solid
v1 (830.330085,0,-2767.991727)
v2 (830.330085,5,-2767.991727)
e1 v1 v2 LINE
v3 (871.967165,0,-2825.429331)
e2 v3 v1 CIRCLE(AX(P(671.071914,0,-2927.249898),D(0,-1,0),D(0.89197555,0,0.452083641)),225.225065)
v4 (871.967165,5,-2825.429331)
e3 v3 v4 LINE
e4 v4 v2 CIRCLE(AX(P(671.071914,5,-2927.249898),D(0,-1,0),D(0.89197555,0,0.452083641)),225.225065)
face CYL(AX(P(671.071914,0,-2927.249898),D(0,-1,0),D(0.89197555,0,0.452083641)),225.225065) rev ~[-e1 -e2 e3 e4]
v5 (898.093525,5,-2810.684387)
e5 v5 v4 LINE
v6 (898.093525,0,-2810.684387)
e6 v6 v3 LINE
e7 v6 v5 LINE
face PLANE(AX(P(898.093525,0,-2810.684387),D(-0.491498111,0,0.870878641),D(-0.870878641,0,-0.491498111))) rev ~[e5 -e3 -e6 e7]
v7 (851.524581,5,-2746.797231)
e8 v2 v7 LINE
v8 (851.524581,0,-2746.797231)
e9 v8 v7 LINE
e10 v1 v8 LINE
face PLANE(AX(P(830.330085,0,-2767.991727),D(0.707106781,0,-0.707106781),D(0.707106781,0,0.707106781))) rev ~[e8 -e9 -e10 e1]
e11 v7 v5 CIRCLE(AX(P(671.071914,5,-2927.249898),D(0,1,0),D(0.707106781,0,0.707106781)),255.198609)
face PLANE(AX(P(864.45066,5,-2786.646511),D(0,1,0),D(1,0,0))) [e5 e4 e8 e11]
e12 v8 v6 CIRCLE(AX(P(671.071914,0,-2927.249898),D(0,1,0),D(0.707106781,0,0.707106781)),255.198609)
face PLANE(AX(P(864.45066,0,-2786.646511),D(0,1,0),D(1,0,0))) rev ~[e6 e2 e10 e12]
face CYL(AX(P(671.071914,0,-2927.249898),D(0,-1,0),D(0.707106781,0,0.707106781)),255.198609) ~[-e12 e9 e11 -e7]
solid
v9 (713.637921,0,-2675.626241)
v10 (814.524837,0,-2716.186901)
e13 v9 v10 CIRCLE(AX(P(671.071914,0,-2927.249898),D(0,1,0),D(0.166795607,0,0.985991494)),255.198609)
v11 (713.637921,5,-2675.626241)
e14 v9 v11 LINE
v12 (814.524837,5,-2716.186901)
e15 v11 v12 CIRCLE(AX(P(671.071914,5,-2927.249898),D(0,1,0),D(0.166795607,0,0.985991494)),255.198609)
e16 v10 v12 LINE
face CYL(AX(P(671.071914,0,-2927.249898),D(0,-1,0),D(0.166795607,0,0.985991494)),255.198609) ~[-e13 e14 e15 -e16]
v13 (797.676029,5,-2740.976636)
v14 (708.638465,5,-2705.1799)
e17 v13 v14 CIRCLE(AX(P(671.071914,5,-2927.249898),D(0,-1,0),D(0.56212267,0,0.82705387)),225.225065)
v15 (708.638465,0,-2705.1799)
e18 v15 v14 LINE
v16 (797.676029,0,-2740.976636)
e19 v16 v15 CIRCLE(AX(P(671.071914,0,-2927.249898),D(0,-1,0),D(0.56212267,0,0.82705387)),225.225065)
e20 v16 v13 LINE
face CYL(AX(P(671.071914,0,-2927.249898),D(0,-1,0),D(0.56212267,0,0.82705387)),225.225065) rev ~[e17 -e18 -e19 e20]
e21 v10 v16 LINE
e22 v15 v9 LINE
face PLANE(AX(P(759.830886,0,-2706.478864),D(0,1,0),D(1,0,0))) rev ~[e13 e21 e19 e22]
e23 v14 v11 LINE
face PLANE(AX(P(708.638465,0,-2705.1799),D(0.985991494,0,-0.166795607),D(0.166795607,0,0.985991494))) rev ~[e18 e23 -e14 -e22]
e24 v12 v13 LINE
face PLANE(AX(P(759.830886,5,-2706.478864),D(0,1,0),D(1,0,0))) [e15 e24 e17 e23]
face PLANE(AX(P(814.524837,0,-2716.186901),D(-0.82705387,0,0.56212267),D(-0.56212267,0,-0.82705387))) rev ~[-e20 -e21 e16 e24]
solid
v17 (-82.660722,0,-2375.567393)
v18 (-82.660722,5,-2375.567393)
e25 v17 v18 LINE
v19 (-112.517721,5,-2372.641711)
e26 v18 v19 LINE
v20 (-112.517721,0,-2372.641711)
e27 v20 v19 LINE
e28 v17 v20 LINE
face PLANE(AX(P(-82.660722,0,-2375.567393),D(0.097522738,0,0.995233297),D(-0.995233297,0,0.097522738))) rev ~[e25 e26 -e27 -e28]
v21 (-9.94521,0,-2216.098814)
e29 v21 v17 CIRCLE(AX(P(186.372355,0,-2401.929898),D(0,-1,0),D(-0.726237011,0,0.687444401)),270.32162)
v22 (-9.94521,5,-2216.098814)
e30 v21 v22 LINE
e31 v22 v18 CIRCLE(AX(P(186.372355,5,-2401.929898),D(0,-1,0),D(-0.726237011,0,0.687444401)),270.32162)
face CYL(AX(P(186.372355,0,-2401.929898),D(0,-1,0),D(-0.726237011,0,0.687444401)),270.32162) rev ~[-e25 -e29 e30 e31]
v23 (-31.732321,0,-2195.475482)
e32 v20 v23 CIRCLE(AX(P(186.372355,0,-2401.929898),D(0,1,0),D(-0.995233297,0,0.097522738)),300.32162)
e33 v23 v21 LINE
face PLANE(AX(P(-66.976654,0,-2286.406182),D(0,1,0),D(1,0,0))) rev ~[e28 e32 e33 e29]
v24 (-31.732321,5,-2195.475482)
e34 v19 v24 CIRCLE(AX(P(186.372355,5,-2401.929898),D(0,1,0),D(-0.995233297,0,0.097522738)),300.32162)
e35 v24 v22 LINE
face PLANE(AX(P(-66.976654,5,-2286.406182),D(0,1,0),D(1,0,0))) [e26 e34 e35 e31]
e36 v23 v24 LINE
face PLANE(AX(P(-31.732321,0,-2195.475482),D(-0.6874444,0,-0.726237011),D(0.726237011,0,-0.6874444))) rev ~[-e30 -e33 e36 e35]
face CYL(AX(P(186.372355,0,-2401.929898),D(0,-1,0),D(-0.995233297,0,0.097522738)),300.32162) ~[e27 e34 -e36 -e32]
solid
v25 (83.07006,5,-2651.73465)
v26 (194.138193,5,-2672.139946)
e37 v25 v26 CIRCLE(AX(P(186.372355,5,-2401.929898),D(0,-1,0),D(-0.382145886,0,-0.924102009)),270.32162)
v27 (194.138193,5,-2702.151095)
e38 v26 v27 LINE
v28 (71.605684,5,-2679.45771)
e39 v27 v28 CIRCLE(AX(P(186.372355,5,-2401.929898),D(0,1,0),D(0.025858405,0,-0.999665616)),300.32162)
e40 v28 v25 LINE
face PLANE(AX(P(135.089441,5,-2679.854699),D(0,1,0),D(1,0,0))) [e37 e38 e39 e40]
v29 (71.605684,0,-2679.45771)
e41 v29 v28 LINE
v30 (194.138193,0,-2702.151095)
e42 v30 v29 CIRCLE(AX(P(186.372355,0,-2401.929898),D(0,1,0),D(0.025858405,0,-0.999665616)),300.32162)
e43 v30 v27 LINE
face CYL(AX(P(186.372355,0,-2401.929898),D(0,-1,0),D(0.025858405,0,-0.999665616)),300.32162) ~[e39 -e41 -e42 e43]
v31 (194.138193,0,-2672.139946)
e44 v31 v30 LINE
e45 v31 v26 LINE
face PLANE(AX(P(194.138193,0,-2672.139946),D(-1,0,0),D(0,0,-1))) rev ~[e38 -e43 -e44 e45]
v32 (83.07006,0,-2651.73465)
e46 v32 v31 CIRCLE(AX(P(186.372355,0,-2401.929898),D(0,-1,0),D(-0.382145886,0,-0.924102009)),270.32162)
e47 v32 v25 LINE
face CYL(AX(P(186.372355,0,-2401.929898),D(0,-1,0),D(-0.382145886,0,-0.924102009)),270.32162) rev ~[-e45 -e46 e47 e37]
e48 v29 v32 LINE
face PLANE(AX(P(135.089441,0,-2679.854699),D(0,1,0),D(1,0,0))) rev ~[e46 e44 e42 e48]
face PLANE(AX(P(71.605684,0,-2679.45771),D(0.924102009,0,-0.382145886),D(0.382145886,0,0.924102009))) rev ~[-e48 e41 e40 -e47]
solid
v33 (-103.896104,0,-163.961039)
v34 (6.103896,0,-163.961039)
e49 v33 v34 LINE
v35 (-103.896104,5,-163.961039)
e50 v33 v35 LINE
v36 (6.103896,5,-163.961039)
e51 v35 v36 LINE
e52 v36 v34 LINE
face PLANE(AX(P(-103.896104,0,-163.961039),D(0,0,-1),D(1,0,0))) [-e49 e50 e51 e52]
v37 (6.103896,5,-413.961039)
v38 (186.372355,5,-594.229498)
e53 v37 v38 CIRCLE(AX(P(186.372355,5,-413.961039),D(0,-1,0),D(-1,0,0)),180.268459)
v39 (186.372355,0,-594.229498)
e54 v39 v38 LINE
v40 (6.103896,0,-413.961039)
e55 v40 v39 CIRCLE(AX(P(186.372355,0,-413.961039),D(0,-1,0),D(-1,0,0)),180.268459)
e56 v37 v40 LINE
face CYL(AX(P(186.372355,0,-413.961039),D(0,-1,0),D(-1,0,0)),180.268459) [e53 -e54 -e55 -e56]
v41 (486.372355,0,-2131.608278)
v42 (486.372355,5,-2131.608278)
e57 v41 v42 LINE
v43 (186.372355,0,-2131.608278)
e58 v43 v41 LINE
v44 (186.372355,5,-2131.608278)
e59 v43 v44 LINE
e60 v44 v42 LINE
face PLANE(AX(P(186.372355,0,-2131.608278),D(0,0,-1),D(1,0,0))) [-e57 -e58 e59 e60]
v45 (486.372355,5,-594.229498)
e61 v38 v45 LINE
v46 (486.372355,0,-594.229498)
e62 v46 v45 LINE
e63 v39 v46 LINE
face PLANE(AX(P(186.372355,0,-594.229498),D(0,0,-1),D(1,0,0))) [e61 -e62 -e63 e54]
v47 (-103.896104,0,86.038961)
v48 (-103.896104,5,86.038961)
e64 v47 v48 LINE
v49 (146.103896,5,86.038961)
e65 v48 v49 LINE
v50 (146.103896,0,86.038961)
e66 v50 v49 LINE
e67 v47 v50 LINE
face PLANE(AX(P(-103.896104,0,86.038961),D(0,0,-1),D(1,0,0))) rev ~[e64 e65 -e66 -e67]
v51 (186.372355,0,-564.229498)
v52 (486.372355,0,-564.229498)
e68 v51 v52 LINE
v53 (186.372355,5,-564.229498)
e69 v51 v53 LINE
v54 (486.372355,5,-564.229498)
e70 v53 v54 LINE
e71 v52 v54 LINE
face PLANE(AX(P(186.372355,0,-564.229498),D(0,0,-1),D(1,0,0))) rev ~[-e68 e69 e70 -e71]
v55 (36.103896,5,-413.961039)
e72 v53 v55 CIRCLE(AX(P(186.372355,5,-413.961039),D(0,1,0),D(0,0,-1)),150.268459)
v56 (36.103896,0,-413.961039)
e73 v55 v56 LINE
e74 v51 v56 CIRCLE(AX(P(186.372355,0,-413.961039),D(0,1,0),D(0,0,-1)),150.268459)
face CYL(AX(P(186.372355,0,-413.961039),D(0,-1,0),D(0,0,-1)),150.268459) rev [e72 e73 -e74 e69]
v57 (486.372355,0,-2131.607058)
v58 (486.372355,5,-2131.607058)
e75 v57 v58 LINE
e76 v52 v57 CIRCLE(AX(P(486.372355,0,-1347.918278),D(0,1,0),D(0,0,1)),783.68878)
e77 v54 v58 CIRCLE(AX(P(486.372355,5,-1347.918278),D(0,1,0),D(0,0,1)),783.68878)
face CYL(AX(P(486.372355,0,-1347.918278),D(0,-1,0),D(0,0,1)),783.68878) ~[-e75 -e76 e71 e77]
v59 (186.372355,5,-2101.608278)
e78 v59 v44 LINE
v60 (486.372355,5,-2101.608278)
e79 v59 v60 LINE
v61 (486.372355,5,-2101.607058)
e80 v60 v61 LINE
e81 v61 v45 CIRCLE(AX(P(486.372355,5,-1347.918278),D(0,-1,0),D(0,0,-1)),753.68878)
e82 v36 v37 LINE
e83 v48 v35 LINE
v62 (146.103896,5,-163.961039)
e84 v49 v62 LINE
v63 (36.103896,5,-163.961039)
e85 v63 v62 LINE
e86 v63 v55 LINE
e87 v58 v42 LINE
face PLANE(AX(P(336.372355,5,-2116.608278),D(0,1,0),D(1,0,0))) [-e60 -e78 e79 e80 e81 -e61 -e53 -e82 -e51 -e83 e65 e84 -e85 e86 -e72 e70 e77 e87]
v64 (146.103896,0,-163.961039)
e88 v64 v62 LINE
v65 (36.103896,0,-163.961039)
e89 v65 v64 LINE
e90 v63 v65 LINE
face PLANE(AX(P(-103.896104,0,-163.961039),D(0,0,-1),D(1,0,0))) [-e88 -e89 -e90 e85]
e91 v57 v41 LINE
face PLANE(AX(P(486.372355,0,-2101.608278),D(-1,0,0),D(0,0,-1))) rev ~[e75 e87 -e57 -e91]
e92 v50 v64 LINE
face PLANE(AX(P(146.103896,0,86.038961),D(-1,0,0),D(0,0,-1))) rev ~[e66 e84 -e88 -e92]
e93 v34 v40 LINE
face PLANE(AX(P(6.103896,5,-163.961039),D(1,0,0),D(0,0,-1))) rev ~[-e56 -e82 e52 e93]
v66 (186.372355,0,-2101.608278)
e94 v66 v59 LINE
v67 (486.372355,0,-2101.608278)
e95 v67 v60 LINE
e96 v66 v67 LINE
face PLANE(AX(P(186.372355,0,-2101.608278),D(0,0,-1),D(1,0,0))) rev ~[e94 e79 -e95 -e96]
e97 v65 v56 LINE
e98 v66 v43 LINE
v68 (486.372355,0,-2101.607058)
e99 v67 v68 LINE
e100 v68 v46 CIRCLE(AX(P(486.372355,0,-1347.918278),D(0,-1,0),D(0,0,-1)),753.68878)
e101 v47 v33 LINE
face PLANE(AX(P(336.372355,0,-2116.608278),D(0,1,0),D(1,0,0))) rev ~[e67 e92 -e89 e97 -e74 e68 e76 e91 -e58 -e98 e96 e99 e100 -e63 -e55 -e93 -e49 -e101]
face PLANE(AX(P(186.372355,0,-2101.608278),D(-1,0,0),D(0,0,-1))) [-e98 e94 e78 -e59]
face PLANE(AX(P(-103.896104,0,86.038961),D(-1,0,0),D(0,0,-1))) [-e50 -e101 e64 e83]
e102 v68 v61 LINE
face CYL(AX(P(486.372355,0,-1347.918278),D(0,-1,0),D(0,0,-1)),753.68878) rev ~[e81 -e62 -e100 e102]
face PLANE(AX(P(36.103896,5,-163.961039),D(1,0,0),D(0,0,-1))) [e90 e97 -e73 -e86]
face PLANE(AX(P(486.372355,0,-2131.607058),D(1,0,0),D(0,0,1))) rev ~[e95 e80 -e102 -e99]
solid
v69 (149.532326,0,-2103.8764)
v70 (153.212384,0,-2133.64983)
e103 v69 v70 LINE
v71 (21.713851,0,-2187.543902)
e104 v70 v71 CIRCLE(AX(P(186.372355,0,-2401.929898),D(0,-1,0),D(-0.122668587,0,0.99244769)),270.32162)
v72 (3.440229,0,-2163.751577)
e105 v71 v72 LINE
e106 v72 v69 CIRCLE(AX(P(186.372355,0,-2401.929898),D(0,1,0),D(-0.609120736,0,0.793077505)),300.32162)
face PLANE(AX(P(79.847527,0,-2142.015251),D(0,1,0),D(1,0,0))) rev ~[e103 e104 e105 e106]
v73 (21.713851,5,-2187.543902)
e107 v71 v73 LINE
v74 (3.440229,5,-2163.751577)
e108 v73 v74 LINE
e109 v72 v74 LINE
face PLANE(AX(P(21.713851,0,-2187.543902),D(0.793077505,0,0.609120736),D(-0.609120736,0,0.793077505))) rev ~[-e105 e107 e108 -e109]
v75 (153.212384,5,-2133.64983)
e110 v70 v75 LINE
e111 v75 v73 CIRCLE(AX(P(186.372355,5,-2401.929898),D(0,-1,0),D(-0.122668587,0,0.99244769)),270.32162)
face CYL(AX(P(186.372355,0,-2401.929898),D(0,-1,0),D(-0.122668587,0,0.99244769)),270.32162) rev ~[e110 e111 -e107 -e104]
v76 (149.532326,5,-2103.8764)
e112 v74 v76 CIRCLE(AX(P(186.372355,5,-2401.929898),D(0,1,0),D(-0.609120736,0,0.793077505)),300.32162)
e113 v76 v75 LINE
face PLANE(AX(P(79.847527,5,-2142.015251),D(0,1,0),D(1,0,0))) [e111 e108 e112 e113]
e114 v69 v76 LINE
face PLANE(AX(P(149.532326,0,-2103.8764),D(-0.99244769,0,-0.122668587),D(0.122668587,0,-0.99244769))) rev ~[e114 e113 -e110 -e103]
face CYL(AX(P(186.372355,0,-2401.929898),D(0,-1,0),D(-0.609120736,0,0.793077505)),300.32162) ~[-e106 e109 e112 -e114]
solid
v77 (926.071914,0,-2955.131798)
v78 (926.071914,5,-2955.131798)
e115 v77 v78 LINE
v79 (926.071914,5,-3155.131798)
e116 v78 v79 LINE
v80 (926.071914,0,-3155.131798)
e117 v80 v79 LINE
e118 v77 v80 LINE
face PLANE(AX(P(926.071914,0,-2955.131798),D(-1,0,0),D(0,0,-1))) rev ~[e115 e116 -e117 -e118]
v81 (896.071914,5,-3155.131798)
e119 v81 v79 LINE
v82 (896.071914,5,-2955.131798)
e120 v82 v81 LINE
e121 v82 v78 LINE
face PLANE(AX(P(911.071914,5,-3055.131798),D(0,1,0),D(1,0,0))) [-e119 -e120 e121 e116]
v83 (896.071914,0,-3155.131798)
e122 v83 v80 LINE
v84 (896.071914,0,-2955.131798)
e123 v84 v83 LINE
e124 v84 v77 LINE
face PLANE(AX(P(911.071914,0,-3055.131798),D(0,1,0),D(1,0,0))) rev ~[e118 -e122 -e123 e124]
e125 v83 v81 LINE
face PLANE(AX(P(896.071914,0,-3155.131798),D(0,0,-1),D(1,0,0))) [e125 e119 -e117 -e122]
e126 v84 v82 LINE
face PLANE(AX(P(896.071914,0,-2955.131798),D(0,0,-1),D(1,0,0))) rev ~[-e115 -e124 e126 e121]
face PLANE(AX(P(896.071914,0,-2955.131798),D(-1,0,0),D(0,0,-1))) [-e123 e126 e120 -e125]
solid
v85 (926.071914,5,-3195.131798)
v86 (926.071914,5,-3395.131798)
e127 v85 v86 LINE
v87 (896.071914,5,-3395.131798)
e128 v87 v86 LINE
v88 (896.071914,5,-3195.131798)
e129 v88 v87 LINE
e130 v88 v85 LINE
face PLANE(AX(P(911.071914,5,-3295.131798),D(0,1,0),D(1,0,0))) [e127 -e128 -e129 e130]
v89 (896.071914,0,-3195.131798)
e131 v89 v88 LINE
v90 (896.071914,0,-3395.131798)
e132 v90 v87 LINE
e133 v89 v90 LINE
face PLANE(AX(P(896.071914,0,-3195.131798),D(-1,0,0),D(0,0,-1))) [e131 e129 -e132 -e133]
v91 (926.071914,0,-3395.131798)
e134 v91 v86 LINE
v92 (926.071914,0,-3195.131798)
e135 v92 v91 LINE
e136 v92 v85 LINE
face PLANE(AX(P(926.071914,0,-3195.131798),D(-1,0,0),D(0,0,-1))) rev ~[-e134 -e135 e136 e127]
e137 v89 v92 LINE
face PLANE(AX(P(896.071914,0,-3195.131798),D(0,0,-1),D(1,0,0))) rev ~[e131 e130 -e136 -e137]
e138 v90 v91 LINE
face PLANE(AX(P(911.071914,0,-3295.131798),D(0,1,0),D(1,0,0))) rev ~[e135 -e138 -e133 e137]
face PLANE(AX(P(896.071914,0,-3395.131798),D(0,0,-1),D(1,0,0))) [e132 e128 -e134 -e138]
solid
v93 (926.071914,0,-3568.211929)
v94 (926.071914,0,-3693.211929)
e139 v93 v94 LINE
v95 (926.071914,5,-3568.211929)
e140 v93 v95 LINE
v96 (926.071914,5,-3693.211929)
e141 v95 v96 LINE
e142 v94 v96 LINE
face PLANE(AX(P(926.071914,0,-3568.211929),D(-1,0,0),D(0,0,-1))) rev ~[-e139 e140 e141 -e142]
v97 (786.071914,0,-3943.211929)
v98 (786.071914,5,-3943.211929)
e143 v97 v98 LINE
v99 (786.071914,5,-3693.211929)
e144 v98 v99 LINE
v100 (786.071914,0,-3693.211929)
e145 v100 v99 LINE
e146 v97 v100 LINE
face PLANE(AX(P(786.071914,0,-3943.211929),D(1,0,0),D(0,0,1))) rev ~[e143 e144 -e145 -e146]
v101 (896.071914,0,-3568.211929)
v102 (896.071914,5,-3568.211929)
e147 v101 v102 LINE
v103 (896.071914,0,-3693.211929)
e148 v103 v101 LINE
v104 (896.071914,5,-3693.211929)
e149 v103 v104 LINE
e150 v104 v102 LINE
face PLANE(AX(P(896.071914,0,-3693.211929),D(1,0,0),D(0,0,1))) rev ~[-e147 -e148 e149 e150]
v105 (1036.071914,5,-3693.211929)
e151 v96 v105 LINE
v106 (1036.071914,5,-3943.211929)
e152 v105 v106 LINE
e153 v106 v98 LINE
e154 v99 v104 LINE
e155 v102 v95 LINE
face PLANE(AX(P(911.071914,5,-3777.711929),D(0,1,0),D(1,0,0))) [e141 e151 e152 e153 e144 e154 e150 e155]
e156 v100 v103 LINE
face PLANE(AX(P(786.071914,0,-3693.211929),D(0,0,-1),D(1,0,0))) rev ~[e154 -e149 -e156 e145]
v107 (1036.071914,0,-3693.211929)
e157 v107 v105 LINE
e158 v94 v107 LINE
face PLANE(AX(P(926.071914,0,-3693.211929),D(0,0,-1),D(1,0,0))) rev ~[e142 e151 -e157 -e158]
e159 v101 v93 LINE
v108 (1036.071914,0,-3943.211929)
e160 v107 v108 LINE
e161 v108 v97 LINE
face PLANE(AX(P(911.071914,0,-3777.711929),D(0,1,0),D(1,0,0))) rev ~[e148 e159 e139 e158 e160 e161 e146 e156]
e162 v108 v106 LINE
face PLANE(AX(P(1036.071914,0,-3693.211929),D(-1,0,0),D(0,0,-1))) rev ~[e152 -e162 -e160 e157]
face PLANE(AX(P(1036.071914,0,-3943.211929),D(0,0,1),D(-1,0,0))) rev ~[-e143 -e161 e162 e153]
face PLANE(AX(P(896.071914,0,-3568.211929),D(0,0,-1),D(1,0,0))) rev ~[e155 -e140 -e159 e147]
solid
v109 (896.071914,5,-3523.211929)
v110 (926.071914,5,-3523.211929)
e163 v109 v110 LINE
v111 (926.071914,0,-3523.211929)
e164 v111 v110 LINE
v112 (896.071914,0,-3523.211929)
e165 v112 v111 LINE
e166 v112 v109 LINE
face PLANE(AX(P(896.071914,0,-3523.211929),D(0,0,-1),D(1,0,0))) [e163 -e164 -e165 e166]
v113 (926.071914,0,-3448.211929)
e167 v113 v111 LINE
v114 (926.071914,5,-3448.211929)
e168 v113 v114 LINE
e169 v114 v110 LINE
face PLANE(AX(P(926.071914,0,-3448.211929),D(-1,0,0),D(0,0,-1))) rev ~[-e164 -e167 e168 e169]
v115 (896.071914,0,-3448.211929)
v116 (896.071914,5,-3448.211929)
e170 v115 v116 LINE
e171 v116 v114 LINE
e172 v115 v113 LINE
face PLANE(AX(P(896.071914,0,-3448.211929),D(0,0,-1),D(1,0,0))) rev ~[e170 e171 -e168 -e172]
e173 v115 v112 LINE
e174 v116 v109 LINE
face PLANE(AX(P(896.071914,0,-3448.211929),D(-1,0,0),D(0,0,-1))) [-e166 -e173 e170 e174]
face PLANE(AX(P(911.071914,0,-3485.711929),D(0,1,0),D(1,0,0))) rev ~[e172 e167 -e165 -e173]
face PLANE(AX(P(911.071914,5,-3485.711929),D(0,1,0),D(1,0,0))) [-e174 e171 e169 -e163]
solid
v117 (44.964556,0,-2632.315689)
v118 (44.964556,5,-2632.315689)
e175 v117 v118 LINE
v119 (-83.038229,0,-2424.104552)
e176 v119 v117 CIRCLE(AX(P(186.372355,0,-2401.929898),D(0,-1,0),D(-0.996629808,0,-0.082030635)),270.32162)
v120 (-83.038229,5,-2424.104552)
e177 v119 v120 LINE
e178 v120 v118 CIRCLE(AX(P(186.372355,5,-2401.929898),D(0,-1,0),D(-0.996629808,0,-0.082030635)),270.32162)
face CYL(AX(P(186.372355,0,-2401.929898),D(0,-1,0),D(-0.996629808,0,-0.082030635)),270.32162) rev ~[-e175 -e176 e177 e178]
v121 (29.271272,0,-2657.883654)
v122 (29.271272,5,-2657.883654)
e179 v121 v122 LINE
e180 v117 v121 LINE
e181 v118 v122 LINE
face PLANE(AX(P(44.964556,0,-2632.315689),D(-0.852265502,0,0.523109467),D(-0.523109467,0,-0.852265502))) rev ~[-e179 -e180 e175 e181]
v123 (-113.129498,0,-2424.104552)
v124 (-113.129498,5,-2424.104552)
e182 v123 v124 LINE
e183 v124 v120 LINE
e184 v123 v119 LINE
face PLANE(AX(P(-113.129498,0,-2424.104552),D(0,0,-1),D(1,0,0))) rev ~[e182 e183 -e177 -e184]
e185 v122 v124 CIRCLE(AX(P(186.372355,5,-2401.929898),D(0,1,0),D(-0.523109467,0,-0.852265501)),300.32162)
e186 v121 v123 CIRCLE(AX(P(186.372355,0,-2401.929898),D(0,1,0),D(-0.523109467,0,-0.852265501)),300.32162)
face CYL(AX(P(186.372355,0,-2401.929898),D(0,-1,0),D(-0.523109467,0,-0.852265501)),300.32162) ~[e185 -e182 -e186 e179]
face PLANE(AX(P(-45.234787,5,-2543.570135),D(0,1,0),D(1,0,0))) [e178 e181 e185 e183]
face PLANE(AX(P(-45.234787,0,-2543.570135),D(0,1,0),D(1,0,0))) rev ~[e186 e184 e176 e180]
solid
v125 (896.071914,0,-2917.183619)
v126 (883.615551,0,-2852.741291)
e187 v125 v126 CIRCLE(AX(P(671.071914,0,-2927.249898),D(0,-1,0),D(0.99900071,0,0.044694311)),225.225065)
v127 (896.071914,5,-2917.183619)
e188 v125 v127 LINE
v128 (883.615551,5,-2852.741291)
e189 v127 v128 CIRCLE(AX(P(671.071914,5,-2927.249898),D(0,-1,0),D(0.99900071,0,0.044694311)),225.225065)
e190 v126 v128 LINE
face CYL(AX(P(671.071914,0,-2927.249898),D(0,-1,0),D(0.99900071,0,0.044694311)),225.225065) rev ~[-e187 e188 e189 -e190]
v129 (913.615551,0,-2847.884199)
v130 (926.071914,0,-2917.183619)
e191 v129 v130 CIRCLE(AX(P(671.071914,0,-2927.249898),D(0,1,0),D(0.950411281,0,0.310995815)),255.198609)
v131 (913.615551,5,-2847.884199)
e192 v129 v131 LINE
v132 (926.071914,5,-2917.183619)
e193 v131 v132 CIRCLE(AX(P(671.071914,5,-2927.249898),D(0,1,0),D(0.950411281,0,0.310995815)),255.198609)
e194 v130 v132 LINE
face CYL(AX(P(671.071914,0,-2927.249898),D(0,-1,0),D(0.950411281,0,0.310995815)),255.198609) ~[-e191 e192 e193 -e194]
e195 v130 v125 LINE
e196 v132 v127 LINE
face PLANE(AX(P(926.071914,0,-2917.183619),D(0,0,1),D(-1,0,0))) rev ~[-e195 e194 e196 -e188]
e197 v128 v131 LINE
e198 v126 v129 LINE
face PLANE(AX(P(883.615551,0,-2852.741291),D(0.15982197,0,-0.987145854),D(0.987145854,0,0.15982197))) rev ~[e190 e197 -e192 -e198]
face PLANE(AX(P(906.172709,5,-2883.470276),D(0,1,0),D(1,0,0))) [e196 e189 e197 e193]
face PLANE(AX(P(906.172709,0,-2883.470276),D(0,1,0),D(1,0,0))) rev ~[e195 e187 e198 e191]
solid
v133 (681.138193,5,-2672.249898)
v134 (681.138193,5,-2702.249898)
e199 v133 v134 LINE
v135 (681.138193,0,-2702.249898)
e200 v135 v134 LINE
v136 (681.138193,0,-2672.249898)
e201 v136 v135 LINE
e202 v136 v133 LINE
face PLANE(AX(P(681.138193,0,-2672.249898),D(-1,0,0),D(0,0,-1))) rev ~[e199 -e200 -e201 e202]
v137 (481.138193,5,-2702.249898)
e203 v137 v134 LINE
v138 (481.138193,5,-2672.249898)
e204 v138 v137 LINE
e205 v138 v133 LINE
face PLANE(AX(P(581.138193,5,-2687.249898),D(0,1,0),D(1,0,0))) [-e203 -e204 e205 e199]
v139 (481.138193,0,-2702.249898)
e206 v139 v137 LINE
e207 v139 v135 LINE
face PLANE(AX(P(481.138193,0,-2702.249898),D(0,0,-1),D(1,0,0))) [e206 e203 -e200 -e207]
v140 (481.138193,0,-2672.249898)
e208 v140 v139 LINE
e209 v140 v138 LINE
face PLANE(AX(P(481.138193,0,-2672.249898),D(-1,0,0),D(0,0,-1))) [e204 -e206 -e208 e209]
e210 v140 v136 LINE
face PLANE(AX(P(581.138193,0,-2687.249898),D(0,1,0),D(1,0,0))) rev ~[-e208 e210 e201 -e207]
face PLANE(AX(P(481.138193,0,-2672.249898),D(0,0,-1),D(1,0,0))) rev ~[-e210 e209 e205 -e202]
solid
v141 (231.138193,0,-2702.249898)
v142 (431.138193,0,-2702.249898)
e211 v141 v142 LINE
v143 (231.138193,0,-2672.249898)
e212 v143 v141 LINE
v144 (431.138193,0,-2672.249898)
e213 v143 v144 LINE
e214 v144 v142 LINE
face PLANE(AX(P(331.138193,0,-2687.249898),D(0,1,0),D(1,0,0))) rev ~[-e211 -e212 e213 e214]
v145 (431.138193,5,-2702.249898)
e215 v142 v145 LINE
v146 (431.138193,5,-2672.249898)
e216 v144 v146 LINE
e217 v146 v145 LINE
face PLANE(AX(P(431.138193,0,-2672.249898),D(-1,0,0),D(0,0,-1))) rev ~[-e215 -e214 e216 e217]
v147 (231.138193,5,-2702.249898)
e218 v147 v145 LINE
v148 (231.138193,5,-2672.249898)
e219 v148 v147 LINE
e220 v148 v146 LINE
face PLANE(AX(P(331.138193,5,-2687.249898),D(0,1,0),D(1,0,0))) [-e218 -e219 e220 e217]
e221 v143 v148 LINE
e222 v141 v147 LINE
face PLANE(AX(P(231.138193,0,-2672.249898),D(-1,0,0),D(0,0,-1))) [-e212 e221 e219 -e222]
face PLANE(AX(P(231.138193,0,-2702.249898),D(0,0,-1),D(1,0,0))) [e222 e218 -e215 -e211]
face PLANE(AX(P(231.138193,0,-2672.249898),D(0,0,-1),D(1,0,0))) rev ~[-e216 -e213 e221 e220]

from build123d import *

# Parameters (mm, degrees)
SKETCH1_W              = 250
SKETCH1_H              = 250
BOSS_EXTRUDE1_DEPTH    = 5
SKETCH2_W              = 30
SKETCH2_H              = 250
BOSS_EXTRUDE2_DEPTH    = 5
BOSS_EXTRUDE3_DEPTH    = 5
SKETCH7_W              = 300
SKETCH7_H              = 30
BOSS_EXTRUDE4_DEPTH    = 5
BOSS_EXTRUDE5_DEPTH    = 5
SKETCH10_W             = 300
SKETCH10_H             = 30
BOSS_EXTRUDE6_DEPTH    = 5
BOSS_EXTRUDE7_DEPTH    = 5
BOSS_EXTRUDE7_2_DEPTH  = 5
BOSS_EXTRUDE7_3_DEPTH  = 5
BOSS_EXTRUDE7_4_DEPTH  = 5
SKETCH12_W             = 200
SKETCH12_H             = 30
BOSS_EXTRUDE8_DEPTH    = 5
BOSS_EXTRUDE8_2_DEPTH  = 5
BOSS_EXTRUDE9_DEPTH    = 5
BOSS_EXTRUDE9_2_DEPTH  = 5
BOSS_EXTRUDE9_3_DEPTH  = 5
SKETCH14_W             = 30
SKETCH14_H             = 200
BOSS_EXTRUDE10_DEPTH   = 5
BOSS_EXTRUDE10_2_DEPTH = 5
SKETCH14_H_2           = 75
BOSS_EXTRUDE10_3_DEPTH = 5
BOSS_EXTRUDE10_4_DEPTH = 5


with BuildPart() as part:
    # Sketch1 → Boss-Extrude1 (new body)
    with BuildSketch(Plane(origin=(0, 0, 0), x_dir=(1, 0, 0), z_dir=(0, 1, 0))):
        with Locations((21.103896104, 38.961038961)):
            Rectangle(SKETCH1_W, SKETCH1_H)
    extrude(amount=BOSS_EXTRUDE1_DEPTH)



with BuildPart() as body_2:
    # Sketch2 → Boss-Extrude2 (new body)
    with BuildSketch(Plane(origin=(0, 5, 0), x_dir=(1, 0, 0), z_dir=(0, 1, 0))):
        with Locations((21.103896104, 288.961038961)):
            Rectangle(SKETCH2_W, SKETCH2_H)
    extrude(amount=-BOSS_EXTRUDE2_DEPTH)

    # Sketch6 → Boss-Extrude3 (add)
    with BuildSketch(Plane(origin=(0, 0, 0), x_dir=(1, 0, 0), z_dir=(0, 1, 0))):
        with BuildLine():
            Line((186.372355095, 594.229497953), (186.372355095, 564.229497953))
            ThreePointArc((186.372355095, 564.229497953), (80.116508744, 520.216885312), (36.103896104, 413.961038961))
            Line((36.103896104, 413.961038961), (6.103896104, 413.961038961))
            ThreePointArc((6.103896104, 413.961038961), (58.903305308, 541.430088748), (186.372355095, 594.229497953))
        make_face()
    extrude(amount=BOSS_EXTRUDE3_DEPTH)

    # Sketch7 → Boss-Extrude4 (add)
    with BuildSketch(Plane(origin=(0, 0, 0), x_dir=(1, 0, 0), z_dir=(0, 1, 0))):
        with Locations((336.372355095, 579.229497953)):
            Rectangle(SKETCH7_W, SKETCH7_H)
    extrude(amount=BOSS_EXTRUDE4_DEPTH)


with BuildPart() as part_1:
    add(part.part)

    add(body_2.part)  # Boss-Extrude5 merges body 2
    # Sketch8 → Boss-Extrude5 (add)
    with BuildSketch(Plane(origin=(0, 0, 0), x_dir=(1, 0, 0), z_dir=(0, 1, 0))):
        with BuildLine():
            Line((486.372355095, 2131.607057749), (486.372355095, 2101.607057749))
            ThreePointArc((486.372355095, 2101.607057749), (1240.061134994, 1347.918277851), (486.372355095, 594.229497953))
            Line((486.372355095, 594.229497953), (186.372355095, 594.229497953))
            ThreePointArc((186.372355095, 594.229497953), (58.903305308, 541.430088748), (6.103896104, 413.961038961))
            Line((6.103896104, 413.961038961), (6.103896104, 163.961038961))
            Line((6.103896104, 163.961038961), (36.103896104, 163.961038961))
            Line((36.103896104, 163.961038961), (36.103896104, 413.961038961))
            ThreePointArc((36.103896104, 413.961038961), (80.116508744, 520.216885312), (186.372355095, 564.229497953))
            Line((186.372355095, 564.229497953), (486.372355095, 564.229497953))
            ThreePointArc((486.372355095, 564.229497953), (1270.061134994, 1347.918277851), (486.372355095, 2131.607057749))
        make_face()
    extrude(amount=BOSS_EXTRUDE5_DEPTH)

    # Sketch10 → Boss-Extrude6 (add)
    with BuildSketch(Plane(origin=(0, 0, 0), x_dir=(1, 0, 0), z_dir=(0, 1, 0))):
        with Locations((336.372355095, 2116.608277851)):
            Rectangle(SKETCH10_W, SKETCH10_H)
    extrude(amount=BOSS_EXTRUDE6_DEPTH)


with BuildPart() as body_2_2:
    # Sketch11 → Boss-Extrude7 (new body)
    with BuildSketch(Plane(origin=(0, 0, 0), x_dir=(1, 0, 0), z_dir=(0, 1, 0))):
        with BuildLine():
            Line((194.138193135, 2672.13994615), (194.138193135, 2702.151095344))
            ThreePointArc((194.138193135, 2702.151095344), (131.681935279, 2697.229802428), (71.605683596, 2679.457710455))
            Line((71.605683596, 2679.457710455), (83.070060163, 2651.7346502))
            ThreePointArc((83.070060163, 2651.7346502), (137.526703553, 2667.801823345), (194.138193135, 2672.13994615))
        make_face()
    extrude(amount=BOSS_EXTRUDE7_DEPTH)


with BuildPart() as body_3:
    # Sketch11 → Boss-Extrude7 2 (new body)
    with BuildSketch(Plane(origin=(0, 0, 0), x_dir=(1, 0, 0), z_dir=(0, 1, 0))):
        with BuildLine():
            Line((44.964556313, 2632.315689233), (29.271272289, 2657.883654278))
            ThreePointArc((29.271272289, 2657.883654278), (-70.112980729, 2558.161610757), (-113.129498421, 2424.104552318))
            Line((-113.129498421, 2424.104552318), (-83.038229419, 2424.104552318))
            ThreePointArc((-83.038229419, 2424.104552318), (-43.912046021, 2543.502751874), (44.964556313, 2632.315689233))
        make_face()
    extrude(amount=BOSS_EXTRUDE7_2_DEPTH)


with BuildPart() as body_4:
    # Sketch11 → Boss-Extrude7 3 (new body)
    with BuildSketch(Plane(origin=(0, 0, 0), x_dir=(1, 0, 0), z_dir=(0, 1, 0))):
        with BuildLine():
            Line((-82.66072222, 2375.567393394), (-112.51772113, 2372.641711242))
            ThreePointArc((-112.51772113, 2372.641711242), (-86.881851845, 2277.329681582), (-31.732320704, 2195.475481892))
            Line((-31.732320704, 2195.475481892), (-9.945210372, 2216.098813907))
            ThreePointArc((-9.945210372, 2216.098813907), (-59.585694469, 2289.776359551), (-82.66072222, 2375.567393394))
        make_face()
    extrude(amount=BOSS_EXTRUDE7_3_DEPTH)


with BuildPart() as body_5:
    # Sketch11 → Boss-Extrude7 4 (new body)
    with BuildSketch(Plane(origin=(0, 0, 0), x_dir=(1, 0, 0), z_dir=(0, 1, 0))):
        with BuildLine():
            Line((21.713850904, 2187.543901905), (3.44022883, 2163.751576749))
            ThreePointArc((3.44022883, 2163.751576749), (72.481138399, 2124.041671747), (149.53232629, 2103.876399771))
            Line((149.53232629, 2103.876399771), (153.212383901, 2133.649830476))
            ThreePointArc((153.212383901, 2133.649830476), (83.85806324, 2151.800734793), (21.713850904, 2187.543901905))
        make_face()
    extrude(amount=BOSS_EXTRUDE7_4_DEPTH)


with BuildPart() as body_6:
    # Sketch12 → Boss-Extrude8 (new body)
    with BuildSketch(Plane(origin=(0, 0, 0), x_dir=(1, 0, 0), z_dir=(0, 1, 0))):
        with Locations((331.138193135, 2687.249898038)):
            Rectangle(SKETCH12_W, SKETCH12_H)
    extrude(amount=BOSS_EXTRUDE8_DEPTH)


with BuildPart() as body_7:
    # Sketch12 → Boss-Extrude8 2 (new body)
    with BuildSketch(Plane(origin=(0, 0, 0), x_dir=(1, 0, 0), z_dir=(0, 1, 0))):
        with Locations((581.138193135, 2687.249898038)):
            Rectangle(SKETCH12_W, SKETCH12_H)
    extrude(amount=BOSS_EXTRUDE8_2_DEPTH)


with BuildPart() as body_8:
    # Sketch13 → Boss-Extrude9 (new body)
    with BuildSketch(Plane(origin=(0, 0, 0), x_dir=(1, 0, 0), z_dir=(0, 1, 0))):
        with BuildLine():
            Line((814.524837295, 2716.186900912), (797.676028873, 2740.97663625))
            ThreePointArc((797.676028873, 2740.97663625), (755.085921794, 2718.281057155), (708.638465423, 2705.179899646))
            Line((708.638465423, 2705.179899646), (713.637920847, 2675.626240501))
            ThreePointArc((713.637920847, 2675.626240501), (766.266726809, 2690.470934491), (814.524837295, 2716.186900912))
        make_face()
    extrude(amount=BOSS_EXTRUDE9_DEPTH)


with BuildPart() as body_9:
    # Sketch13 → Boss-Extrude9 2 (new body)
    with BuildSketch(Plane(origin=(0, 0, 0), x_dir=(1, 0, 0), z_dir=(0, 1, 0))):
        with BuildLine():
            Line((898.093524537, 2810.684387291), (871.967165315, 2825.42933062))
            ThreePointArc((871.967165315, 2825.42933062), (853.424296595, 2795.060872341), (830.330084802, 2767.99172717))
            Line((830.330084802, 2767.99172717), (851.524580826, 2746.797231146))
            ThreePointArc((851.524580826, 2746.797231146), (877.298037122, 2776.926526297), (898.093524537, 2810.684387291))
        make_face()
    extrude(amount=BOSS_EXTRUDE9_2_DEPTH)


with BuildPart() as body_10:
    # Sketch13 → Boss-Extrude9 3 (new body)
    with BuildSketch(Plane(origin=(0, 0, 0), x_dir=(1, 0, 0), z_dir=(0, 1, 0))):
        with BuildLine():
            Line((926.071913934, 2917.183618837), (896.071913934, 2917.183618837))
            ThreePointArc((896.071913934, 2917.183618837), (892.203801963, 2884.506266075), (883.615550676, 2852.74129144))
            Line((883.615550676, 2852.74129144), (913.615550676, 2847.884198566))
            ThreePointArc((913.615550676, 2847.884198566), (922.245200786, 2882.102251934), (926.071913934, 2917.183618837))
        make_face()
    extrude(amount=BOSS_EXTRUDE9_3_DEPTH)


with BuildPart() as body_11:
    # Sketch14 → Boss-Extrude10 (new body)
    with BuildSketch(Plane(origin=(0, 0, 0), x_dir=(1, 0, 0), z_dir=(0, 1, 0))):
        with Locations((911.071913934, 3055.131798486)):
            Rectangle(SKETCH14_W, SKETCH14_H)
    extrude(amount=BOSS_EXTRUDE10_DEPTH)


with BuildPart() as body_12:
    # Sketch14 → Boss-Extrude10 2 (new body)
    with BuildSketch(Plane(origin=(0, 0, 0), x_dir=(1, 0, 0), z_dir=(0, 1, 0))):
        with Locations((911.071913934, 3295.131798486)):
            Rectangle(SKETCH14_W, SKETCH14_H)
    extrude(amount=BOSS_EXTRUDE10_2_DEPTH)


with BuildPart() as body_13:
    # Sketch14 → Boss-Extrude10 3 (new body)
    with BuildSketch(Plane(origin=(0, 0, 0), x_dir=(1, 0, 0), z_dir=(0, 1, 0))):
        with Locations((911.071913934, 3485.711929371)):
            Rectangle(SKETCH14_W, SKETCH14_H_2)
    extrude(amount=BOSS_EXTRUDE10_3_DEPTH)


with BuildPart() as body_14:
    # Sketch14 → Boss-Extrude10 4 (new body)
    with BuildSketch(Plane(origin=(0, 0, 0), x_dir=(1, 0, 0), z_dir=(0, 1, 0))):
        Polygon((896.071913934, 3568.211929371), (926.071913934, 3568.211929371), (926.071913934, 3693.211929371), (1036.071913934, 3693.211929371), (1036.071913934, 3943.211929371), (786.071913934, 3943.211929371), (786.071913934, 3693.211929371), (896.071913934, 3693.211929371), align=None)
    extrude(amount=BOSS_EXTRUDE10_4_DEPTH)


solid = Compound([part_1.part, body_2_2.part, body_3.part, body_4.part, body_5.part, body_6.part, body_7.part, body_8.part, body_9.part, body_10.part, body_11.part, body_12.part, body_13.part, body_14.part])
